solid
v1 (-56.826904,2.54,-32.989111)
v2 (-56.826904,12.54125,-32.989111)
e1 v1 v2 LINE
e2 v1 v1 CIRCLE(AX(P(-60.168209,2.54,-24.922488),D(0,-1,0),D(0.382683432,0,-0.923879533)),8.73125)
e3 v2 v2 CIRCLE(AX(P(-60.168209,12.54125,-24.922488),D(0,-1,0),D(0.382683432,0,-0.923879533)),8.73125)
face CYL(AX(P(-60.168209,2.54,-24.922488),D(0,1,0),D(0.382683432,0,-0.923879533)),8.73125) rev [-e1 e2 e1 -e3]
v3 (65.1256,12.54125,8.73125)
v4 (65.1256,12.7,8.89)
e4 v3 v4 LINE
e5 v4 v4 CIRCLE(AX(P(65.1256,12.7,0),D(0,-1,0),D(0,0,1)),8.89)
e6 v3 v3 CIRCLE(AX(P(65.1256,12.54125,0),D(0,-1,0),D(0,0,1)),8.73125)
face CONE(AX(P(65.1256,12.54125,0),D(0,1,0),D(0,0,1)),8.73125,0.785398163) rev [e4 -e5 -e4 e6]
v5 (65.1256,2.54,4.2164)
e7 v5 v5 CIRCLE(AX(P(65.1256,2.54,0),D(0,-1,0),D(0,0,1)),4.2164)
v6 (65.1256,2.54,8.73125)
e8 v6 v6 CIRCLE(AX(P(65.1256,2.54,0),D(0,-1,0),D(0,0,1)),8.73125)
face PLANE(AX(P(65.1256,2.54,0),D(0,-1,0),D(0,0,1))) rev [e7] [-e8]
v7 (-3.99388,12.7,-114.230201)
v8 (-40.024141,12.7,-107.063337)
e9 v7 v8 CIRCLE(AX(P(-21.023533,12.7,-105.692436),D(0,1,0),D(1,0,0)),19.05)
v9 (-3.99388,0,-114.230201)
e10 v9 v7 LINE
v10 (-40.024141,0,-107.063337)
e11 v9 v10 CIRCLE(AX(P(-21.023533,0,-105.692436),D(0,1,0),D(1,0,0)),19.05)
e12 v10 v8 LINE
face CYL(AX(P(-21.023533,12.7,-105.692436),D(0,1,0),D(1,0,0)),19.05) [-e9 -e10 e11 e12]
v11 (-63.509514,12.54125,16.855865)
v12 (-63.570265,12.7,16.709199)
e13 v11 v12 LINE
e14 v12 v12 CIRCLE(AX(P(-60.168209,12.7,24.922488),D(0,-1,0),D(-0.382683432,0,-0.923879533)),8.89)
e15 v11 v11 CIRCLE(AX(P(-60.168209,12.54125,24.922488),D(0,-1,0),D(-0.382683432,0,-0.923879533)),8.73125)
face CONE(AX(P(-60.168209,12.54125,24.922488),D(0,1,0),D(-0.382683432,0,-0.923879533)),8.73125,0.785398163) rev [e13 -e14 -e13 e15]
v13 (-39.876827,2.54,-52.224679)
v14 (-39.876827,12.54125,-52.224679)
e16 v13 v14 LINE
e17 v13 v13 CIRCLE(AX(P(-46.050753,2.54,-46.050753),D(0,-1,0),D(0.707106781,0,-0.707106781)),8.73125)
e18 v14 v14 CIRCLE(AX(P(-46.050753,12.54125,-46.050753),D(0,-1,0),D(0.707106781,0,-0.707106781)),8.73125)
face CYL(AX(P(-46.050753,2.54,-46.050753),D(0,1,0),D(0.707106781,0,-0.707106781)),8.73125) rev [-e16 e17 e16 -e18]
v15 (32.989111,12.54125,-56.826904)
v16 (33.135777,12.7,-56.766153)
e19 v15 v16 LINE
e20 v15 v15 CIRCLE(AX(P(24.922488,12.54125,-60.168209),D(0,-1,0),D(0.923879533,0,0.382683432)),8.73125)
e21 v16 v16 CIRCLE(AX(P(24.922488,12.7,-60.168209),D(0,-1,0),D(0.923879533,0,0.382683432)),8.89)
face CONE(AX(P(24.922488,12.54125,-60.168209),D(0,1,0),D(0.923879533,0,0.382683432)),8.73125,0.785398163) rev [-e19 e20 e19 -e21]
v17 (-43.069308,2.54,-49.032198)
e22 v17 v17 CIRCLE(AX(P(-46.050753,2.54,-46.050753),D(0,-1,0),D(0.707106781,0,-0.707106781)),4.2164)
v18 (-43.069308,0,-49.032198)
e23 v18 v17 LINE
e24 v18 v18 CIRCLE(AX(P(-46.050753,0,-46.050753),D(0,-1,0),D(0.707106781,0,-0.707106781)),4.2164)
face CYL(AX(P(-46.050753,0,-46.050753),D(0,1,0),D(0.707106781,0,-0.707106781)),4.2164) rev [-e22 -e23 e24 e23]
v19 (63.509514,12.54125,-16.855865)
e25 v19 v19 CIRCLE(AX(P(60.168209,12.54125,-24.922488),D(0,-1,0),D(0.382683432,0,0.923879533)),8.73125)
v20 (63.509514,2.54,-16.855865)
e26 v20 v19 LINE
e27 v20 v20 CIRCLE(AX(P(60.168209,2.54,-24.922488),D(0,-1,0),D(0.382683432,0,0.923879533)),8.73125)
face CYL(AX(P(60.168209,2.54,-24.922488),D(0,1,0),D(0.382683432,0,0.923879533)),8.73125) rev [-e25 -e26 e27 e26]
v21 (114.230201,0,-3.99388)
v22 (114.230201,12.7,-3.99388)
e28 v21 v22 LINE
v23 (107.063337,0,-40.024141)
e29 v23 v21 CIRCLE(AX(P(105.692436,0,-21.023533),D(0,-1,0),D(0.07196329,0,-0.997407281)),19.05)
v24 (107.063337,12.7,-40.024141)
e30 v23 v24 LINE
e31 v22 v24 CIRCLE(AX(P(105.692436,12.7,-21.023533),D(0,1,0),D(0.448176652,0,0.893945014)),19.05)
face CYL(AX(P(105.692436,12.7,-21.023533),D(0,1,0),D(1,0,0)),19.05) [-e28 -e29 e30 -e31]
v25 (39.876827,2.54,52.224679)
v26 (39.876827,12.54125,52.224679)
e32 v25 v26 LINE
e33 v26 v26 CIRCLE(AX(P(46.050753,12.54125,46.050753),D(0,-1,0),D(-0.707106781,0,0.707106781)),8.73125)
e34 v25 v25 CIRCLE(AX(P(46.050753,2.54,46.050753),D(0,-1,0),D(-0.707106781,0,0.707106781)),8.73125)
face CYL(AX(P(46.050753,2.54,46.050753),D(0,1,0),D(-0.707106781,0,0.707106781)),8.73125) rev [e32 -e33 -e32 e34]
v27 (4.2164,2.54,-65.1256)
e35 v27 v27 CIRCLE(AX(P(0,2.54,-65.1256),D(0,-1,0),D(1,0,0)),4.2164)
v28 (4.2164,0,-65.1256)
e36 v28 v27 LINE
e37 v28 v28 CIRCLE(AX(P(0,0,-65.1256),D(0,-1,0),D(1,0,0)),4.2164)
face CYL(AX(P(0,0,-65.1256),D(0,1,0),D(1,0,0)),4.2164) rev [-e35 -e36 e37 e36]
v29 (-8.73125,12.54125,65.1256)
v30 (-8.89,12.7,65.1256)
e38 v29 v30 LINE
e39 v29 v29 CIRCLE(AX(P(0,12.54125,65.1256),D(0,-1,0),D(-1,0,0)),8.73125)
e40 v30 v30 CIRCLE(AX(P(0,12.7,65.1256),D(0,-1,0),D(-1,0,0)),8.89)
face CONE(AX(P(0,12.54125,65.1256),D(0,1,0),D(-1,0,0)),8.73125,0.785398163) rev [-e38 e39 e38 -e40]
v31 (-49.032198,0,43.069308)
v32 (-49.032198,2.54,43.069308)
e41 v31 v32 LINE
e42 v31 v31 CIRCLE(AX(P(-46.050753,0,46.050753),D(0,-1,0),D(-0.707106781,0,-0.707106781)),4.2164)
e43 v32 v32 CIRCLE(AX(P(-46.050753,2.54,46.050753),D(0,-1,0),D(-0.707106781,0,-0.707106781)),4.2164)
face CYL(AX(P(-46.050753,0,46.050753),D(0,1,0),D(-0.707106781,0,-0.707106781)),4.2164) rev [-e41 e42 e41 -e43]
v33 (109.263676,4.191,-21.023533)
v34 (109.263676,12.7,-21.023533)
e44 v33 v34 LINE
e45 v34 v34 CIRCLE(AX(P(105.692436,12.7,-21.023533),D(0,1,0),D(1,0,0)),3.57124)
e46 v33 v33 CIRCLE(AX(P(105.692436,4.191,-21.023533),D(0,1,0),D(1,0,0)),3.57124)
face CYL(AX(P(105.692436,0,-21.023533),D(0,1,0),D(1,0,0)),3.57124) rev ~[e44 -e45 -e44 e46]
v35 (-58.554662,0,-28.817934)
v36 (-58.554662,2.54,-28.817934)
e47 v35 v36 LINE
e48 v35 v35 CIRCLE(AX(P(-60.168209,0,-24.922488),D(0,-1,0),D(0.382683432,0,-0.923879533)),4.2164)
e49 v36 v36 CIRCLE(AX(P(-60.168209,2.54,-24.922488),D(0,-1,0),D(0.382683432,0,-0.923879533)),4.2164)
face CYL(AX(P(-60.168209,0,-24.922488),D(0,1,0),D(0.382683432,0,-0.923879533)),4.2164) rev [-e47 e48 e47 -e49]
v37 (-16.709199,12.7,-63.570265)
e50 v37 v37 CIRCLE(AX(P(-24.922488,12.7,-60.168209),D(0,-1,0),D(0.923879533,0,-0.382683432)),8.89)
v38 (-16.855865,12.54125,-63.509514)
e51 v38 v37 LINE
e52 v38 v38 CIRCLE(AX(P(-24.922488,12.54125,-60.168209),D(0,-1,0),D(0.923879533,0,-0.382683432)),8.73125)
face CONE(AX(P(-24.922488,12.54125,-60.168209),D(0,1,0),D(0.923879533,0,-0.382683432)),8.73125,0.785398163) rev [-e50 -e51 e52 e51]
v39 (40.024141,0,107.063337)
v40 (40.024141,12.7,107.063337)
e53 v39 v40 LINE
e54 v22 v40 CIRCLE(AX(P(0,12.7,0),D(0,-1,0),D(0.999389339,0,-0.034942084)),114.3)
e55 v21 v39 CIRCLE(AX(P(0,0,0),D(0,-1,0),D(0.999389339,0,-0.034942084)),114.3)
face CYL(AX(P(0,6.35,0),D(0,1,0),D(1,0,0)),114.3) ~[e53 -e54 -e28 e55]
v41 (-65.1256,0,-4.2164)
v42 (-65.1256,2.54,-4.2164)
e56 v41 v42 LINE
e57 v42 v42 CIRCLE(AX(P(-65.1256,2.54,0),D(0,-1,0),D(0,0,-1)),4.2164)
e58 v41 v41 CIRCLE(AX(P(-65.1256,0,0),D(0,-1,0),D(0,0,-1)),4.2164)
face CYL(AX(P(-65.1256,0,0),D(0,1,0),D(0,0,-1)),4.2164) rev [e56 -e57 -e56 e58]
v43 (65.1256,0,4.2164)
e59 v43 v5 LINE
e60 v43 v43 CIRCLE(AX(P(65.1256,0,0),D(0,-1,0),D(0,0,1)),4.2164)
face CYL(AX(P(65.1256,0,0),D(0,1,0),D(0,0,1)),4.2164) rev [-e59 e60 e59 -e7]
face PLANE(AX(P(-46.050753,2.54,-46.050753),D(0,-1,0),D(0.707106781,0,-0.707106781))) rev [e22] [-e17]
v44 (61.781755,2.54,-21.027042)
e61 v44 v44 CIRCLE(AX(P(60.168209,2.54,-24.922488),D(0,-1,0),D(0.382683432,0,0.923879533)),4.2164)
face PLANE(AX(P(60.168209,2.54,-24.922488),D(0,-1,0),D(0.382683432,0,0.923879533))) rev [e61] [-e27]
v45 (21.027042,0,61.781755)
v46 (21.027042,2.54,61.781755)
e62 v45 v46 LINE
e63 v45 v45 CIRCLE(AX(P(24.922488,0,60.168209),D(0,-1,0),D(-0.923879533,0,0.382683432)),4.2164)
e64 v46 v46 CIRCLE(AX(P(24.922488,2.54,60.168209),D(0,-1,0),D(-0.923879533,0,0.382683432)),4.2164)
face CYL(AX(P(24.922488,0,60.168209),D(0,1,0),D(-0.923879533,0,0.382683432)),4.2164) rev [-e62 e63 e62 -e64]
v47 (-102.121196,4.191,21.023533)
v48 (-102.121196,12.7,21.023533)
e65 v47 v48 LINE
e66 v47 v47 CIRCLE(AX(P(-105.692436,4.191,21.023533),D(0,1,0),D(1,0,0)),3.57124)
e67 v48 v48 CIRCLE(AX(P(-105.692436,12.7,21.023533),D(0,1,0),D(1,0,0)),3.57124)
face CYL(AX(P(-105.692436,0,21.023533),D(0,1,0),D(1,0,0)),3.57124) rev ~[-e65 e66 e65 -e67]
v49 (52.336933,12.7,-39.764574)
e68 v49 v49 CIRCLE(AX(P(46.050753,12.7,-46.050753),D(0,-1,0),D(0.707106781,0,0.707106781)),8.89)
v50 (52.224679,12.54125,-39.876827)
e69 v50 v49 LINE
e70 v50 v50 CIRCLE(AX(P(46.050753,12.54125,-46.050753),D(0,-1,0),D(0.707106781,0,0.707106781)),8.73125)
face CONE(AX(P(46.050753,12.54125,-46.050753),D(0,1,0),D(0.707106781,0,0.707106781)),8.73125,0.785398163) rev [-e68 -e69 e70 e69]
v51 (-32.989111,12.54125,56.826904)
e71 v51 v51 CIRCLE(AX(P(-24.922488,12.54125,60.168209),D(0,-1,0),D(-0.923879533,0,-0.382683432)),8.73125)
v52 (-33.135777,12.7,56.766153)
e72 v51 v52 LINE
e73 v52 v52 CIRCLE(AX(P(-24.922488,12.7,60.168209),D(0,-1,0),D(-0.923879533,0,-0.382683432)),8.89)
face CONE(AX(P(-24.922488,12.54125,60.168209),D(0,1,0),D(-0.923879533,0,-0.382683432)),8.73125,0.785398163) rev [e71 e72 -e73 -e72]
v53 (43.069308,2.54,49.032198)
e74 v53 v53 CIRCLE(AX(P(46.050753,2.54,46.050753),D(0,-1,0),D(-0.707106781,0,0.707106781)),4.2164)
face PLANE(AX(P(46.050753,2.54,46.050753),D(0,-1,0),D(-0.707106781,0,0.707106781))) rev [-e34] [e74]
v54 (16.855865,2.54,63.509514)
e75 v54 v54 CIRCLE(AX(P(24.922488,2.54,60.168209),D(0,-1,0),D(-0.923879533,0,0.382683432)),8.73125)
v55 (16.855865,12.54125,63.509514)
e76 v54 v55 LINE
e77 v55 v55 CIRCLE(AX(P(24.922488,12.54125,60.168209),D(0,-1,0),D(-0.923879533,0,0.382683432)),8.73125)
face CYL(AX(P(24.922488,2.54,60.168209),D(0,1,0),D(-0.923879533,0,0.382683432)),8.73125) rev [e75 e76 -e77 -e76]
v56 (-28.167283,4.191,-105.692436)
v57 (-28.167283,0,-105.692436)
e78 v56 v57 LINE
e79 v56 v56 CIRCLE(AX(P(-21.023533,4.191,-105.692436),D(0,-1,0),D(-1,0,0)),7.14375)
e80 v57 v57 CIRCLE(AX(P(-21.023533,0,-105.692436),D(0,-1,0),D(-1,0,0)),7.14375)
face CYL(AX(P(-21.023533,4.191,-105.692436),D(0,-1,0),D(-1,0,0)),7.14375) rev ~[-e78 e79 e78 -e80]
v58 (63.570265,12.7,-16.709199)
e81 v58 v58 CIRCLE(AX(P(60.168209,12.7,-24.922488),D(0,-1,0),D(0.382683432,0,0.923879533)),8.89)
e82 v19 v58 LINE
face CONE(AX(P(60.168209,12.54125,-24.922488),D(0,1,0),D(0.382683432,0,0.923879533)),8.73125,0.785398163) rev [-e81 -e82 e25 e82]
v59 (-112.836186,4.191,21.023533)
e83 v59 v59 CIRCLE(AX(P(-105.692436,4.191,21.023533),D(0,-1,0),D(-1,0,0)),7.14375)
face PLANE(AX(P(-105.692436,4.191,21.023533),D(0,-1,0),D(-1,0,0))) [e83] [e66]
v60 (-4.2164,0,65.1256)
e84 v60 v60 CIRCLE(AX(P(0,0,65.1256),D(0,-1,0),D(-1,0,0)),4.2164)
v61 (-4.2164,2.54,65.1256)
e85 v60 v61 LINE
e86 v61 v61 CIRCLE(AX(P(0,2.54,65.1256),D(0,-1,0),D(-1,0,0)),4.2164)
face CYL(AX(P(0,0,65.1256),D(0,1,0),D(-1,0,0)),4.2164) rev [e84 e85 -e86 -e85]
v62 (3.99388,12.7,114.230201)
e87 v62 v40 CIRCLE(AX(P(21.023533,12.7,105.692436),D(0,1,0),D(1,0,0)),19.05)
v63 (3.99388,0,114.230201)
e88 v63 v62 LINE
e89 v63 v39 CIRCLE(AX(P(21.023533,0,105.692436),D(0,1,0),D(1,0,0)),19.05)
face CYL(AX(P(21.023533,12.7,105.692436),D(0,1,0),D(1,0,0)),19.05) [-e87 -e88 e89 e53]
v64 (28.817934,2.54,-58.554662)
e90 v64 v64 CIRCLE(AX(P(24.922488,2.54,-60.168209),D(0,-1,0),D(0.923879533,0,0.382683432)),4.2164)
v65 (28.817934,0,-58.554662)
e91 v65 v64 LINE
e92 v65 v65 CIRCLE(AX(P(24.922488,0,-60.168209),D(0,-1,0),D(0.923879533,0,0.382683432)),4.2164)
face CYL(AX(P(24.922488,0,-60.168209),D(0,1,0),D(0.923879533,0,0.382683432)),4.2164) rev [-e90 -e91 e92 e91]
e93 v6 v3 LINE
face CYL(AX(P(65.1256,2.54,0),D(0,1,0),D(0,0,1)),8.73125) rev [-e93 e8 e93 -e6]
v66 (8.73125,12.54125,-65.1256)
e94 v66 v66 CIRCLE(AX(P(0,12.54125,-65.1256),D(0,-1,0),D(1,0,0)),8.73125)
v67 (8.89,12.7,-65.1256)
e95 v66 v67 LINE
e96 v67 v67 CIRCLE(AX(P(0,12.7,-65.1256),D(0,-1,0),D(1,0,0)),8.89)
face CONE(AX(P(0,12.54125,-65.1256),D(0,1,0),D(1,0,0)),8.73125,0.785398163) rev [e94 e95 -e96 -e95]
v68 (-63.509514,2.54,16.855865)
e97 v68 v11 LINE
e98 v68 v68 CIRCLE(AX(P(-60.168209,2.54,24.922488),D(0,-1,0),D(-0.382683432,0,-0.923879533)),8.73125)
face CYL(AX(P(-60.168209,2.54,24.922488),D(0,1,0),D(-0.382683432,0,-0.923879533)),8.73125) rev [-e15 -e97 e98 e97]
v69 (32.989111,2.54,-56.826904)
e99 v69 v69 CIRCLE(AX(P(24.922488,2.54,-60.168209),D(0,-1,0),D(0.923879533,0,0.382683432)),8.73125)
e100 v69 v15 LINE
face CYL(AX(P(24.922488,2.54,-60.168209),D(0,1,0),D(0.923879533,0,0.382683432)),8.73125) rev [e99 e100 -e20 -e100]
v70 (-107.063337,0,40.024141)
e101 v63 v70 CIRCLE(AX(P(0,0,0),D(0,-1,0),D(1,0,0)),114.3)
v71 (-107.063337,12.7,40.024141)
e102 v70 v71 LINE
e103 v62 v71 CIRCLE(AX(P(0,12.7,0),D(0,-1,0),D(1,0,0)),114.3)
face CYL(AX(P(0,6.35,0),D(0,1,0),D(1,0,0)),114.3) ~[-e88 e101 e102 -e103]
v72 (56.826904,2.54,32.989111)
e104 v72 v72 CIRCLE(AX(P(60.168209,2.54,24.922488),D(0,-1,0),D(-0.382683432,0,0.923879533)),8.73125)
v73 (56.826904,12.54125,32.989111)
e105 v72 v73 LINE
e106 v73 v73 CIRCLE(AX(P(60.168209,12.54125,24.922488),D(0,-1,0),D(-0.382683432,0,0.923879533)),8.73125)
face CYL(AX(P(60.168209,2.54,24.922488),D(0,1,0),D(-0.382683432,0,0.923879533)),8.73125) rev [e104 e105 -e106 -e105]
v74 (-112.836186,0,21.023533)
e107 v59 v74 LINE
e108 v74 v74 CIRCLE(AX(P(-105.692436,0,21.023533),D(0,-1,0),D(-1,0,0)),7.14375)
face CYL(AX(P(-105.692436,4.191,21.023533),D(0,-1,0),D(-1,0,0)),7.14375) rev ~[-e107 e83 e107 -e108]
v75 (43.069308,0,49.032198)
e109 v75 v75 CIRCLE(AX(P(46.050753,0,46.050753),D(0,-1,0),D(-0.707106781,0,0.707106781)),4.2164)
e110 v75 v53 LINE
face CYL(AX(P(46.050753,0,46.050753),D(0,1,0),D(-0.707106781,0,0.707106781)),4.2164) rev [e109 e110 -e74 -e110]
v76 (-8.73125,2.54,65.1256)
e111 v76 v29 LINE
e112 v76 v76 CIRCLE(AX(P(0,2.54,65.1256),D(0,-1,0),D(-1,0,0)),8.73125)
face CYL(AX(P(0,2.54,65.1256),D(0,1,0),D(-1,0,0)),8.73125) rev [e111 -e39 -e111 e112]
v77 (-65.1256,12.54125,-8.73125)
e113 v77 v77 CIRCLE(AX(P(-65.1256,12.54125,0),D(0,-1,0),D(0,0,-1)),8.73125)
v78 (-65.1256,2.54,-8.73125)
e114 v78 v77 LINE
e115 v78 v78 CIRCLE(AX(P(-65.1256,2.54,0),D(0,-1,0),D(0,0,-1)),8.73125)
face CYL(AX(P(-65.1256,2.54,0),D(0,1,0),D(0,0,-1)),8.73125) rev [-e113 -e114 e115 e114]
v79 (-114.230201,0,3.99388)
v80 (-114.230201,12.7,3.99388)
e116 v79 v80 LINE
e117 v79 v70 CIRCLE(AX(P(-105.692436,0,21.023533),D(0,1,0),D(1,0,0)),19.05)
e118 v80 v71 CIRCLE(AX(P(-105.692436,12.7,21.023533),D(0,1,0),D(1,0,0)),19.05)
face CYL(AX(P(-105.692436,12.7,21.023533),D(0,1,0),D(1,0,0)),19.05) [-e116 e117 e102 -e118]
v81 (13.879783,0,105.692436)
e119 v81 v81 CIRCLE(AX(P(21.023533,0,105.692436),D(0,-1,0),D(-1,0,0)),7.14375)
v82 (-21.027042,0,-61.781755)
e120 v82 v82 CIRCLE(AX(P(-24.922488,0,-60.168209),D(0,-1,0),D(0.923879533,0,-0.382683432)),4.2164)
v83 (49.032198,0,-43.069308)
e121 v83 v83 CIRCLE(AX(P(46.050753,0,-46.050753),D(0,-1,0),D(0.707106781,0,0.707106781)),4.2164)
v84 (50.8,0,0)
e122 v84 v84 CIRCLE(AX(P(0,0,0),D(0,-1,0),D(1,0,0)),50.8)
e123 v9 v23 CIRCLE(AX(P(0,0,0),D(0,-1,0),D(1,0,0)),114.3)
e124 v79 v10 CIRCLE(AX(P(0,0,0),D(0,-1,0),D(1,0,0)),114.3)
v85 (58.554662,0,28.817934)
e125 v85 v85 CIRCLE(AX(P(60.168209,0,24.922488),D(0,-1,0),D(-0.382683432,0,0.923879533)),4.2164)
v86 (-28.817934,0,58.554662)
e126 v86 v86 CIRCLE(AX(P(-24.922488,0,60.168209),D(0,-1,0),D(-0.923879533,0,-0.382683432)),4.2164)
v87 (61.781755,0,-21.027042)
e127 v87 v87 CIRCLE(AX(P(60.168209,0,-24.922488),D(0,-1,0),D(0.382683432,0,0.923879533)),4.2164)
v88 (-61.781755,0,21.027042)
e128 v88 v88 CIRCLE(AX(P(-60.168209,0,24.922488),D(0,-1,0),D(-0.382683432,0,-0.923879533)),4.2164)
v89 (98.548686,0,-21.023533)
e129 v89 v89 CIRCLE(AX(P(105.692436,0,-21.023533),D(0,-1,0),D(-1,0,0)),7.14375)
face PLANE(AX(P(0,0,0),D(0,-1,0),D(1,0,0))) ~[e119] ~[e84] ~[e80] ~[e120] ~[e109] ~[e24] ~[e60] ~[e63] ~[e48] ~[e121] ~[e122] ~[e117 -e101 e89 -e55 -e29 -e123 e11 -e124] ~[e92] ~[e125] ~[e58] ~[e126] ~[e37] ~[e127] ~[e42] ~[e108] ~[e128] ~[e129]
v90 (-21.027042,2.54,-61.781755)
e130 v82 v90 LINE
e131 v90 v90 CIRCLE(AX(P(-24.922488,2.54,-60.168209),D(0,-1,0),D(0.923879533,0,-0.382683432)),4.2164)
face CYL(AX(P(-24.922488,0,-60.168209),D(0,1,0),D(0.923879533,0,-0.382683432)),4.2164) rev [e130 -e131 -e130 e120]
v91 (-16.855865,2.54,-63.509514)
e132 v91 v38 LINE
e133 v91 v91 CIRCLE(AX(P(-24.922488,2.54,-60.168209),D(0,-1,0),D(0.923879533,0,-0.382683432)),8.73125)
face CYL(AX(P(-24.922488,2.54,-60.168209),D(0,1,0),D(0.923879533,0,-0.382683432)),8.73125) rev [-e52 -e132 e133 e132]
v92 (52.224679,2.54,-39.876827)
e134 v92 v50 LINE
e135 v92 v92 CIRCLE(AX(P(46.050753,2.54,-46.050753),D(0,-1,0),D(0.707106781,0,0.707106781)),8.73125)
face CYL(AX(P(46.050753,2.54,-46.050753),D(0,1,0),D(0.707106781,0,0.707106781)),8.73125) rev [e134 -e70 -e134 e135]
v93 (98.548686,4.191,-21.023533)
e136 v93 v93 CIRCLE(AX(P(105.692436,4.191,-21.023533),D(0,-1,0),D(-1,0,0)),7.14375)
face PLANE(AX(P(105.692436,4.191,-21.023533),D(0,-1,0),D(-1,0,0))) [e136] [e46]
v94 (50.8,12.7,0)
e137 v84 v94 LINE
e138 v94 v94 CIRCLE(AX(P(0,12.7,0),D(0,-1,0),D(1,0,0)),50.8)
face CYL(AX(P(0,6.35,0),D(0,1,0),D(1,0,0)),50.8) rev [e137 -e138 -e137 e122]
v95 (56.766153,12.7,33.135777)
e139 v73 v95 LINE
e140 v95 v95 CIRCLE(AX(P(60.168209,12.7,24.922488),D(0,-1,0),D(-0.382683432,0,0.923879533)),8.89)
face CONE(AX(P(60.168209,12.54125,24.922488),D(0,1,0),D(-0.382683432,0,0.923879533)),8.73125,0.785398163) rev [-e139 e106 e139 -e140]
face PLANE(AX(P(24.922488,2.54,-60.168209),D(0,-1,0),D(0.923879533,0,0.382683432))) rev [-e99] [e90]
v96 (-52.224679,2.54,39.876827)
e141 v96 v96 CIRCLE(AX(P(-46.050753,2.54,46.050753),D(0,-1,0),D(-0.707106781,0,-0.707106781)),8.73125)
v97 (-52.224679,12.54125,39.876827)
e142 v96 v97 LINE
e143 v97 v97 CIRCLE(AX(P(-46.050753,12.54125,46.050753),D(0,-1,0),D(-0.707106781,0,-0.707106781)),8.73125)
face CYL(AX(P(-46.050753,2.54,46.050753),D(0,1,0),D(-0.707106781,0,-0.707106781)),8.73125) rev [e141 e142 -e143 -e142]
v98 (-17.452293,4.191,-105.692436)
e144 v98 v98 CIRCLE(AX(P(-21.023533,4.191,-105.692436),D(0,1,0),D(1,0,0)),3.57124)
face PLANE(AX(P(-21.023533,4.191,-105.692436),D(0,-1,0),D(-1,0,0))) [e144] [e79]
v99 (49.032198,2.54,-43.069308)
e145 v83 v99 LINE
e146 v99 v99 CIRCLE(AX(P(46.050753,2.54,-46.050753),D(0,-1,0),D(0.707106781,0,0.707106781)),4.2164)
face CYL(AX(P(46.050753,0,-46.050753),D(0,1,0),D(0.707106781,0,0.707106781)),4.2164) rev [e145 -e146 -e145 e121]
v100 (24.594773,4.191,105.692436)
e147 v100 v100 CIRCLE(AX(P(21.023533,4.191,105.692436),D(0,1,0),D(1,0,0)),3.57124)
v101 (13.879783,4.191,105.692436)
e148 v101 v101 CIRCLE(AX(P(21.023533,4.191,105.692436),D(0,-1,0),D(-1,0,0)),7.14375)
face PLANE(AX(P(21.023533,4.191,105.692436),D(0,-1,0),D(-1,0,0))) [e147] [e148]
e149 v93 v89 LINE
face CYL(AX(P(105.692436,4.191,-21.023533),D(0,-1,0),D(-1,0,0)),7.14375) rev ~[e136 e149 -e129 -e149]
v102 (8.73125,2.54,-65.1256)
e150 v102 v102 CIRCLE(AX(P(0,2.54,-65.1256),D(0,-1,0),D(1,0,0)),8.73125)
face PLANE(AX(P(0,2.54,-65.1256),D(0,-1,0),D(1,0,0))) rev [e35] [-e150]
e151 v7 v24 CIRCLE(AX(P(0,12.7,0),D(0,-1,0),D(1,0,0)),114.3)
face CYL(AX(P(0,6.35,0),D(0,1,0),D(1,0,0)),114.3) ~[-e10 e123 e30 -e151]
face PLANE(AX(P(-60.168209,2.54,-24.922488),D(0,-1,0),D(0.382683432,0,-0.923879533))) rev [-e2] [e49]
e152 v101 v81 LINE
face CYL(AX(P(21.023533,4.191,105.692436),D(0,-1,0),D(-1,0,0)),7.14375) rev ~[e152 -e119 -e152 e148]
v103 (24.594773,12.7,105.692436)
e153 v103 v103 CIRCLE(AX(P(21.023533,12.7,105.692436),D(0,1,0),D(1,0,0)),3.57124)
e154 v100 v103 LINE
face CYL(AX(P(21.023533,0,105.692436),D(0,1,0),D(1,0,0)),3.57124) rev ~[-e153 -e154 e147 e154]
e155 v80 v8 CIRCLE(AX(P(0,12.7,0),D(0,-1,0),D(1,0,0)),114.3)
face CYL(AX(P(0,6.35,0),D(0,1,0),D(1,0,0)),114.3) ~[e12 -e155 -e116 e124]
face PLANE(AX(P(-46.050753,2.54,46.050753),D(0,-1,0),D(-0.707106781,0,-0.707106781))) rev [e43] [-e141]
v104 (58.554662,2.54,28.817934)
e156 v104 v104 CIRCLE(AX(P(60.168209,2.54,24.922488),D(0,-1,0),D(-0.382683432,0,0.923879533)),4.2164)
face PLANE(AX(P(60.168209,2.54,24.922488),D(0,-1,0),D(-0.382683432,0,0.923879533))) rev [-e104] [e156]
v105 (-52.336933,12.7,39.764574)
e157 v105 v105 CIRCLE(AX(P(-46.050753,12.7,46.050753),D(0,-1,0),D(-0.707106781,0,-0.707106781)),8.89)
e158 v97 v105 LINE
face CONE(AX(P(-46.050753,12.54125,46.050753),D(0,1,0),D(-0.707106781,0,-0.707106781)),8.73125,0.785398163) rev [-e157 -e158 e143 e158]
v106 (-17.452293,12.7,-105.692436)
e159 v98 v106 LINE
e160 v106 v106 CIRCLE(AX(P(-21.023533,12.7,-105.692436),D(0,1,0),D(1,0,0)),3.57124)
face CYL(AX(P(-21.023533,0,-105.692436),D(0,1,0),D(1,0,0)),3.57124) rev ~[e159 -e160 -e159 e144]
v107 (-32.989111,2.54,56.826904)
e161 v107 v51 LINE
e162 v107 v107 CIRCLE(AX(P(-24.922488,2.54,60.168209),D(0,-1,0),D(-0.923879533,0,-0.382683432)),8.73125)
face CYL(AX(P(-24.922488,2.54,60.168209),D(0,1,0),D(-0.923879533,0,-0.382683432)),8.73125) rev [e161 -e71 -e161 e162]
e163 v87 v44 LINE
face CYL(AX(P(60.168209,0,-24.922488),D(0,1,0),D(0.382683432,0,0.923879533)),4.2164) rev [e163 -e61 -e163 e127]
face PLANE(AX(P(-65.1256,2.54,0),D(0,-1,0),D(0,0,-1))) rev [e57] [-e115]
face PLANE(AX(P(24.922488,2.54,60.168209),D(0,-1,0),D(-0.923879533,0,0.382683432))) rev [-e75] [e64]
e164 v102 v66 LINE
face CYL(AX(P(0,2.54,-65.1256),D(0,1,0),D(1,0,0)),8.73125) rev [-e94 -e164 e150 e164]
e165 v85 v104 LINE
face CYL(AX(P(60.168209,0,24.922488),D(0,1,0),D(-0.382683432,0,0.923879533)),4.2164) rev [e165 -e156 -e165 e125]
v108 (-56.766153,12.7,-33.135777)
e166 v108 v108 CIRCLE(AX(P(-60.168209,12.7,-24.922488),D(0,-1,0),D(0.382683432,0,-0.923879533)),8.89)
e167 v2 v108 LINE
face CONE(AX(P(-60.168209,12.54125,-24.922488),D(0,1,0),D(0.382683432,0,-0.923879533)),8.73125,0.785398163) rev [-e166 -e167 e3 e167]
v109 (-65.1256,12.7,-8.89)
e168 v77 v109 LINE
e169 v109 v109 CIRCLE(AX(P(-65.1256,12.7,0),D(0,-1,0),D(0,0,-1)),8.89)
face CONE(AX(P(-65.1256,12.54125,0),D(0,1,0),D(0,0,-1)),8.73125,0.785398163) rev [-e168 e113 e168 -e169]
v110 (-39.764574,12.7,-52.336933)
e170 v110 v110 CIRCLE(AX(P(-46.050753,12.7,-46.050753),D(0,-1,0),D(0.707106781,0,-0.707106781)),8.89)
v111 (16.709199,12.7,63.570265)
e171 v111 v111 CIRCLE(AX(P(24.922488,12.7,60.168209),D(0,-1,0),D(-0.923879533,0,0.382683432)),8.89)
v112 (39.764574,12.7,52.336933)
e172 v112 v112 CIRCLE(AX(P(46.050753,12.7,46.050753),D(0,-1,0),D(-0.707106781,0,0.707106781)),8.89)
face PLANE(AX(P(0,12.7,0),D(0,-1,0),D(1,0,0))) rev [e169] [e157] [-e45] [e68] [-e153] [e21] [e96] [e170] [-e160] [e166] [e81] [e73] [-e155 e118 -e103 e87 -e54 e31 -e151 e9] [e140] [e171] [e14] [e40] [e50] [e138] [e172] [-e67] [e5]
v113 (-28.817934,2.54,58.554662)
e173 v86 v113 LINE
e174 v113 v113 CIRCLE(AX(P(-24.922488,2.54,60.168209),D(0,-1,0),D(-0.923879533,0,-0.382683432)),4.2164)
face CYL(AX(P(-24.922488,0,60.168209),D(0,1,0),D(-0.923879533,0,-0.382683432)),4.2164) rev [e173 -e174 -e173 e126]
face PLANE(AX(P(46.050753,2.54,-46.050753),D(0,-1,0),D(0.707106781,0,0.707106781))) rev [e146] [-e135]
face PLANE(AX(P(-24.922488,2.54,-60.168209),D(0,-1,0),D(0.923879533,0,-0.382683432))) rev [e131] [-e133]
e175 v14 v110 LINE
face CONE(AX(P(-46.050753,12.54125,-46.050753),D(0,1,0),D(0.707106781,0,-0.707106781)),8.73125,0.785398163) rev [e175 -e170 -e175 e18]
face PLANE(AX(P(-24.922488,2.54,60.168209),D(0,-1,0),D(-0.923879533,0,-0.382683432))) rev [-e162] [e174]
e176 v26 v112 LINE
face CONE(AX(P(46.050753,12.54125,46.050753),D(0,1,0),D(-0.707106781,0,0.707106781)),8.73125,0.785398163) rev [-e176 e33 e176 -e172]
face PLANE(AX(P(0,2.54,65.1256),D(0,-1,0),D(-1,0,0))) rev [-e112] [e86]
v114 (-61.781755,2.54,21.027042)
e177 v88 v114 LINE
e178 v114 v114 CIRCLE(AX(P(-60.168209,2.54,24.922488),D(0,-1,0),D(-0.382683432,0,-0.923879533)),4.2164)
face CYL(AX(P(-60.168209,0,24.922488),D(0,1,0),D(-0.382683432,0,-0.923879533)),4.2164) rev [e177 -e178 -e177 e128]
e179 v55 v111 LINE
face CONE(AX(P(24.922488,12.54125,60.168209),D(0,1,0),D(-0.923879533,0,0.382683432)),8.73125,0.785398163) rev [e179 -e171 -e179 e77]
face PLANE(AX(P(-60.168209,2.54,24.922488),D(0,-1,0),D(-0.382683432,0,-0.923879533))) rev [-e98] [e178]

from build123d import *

# Parameters (mm, degrees)
SKETCH1_W                                            = 63.5
SKETCH1_H                                            = 12.7
CIRPATTERN1_COUNT                                    = 16
SKETCH24_R                                           = 19.05
BOSS_EXTRUDE1_DEPTH                                  = 12.7
CBORE_FOR_1_4_BINDING_HEAD_MACHINE_SCREW_D           = 7.14248
CBORE_FOR_1_4_BINDING_HEAD_MACHINE_SCREW_CBORE_D     = 14.2875
CBORE_FOR_1_4_BINDING_HEAD_MACHINE_SCREW_CBORE_DEPTH = 4.191


with BuildPart() as part:
    # Sketch1 → Revolve1 (revolve)
    with BuildSketch(Plane.XY):
        with Locations((82.55, 6.35)):
            Rectangle(SKETCH1_W, SKETCH1_H)
    revolve(axis=Axis((0, 58.205419954, 0), (0, -1, 0)))

    # Sketch20 → CBORE for 5/16 Binding Head Machine Screw1 (revolve, cut)
    with BuildSketch(Plane(origin=(65.1256, 12.7, 0), x_dir=(0, 0, 1), z_dir=(1, 0, 0))):
        Polygon((0, 0), (0, 12.7), (4.2164, 12.7), (4.2164, 10.16), (8.73125, 10.16), (8.73125, 0.15875), (8.89, 0), align=None)
    cbore_for_5_16_binding_head_machine_scre = revolve(axis=Axis((65.1256, 19.05, 0), (0, -1, 0)), mode=Mode.SUBTRACT)

    # CirPattern1: CBORE for 5/16 Binding Head Machine Screw1 ×16 about axis
    cirpattern1_axis = Axis((0, 58.205419954, 0), (0, -1, 0))
    for i in range(1, CIRPATTERN1_COUNT):
        add(cbore_for_5_16_binding_head_machine_scre.rotate(cirpattern1_axis, i * 360 / CIRPATTERN1_COUNT), mode=Mode.SUBTRACT)

    # Sketch24 → Boss-Extrude1 (add)
    with BuildSketch(Plane(origin=(0, 12.7, 0), x_dir=(1, 0, 0), z_dir=(0, 1, 0))):
        with Locations((-21.023532701, 105.692436214)):
            Circle(SKETCH24_R)
        with Locations((105.692436214, 21.023532701)):
            Circle(SKETCH24_R)
        with Locations((-105.692436214, -21.023532701)):
            Circle(SKETCH24_R)
        with Locations((21.023532701, -105.692436214)):
            Circle(SKETCH24_R)
    extrude(amount=-BOSS_EXTRUDE1_DEPTH)

    # CBORE for 1/4 Binding Head Machine Screw1 (through all)
    with Locations(Plane(origin=(0, 0, 0), x_dir=(-1, 0, 0), z_dir=(0, -1, 0))):
        with Locations((-21.023532701, -105.692436214), (-105.692436214, 21.023532701), (21.023532701, 105.692436214), (105.692436214, -21.023532701)):
            CounterBoreHole(CBORE_FOR_1_4_BINDING_HEAD_MACHINE_SCREW_D / 2, CBORE_FOR_1_4_BINDING_HEAD_MACHINE_SCREW_CBORE_D / 2, CBORE_FOR_1_4_BINDING_HEAD_MACHINE_SCREW_CBORE_DEPTH)


solid = part.part
